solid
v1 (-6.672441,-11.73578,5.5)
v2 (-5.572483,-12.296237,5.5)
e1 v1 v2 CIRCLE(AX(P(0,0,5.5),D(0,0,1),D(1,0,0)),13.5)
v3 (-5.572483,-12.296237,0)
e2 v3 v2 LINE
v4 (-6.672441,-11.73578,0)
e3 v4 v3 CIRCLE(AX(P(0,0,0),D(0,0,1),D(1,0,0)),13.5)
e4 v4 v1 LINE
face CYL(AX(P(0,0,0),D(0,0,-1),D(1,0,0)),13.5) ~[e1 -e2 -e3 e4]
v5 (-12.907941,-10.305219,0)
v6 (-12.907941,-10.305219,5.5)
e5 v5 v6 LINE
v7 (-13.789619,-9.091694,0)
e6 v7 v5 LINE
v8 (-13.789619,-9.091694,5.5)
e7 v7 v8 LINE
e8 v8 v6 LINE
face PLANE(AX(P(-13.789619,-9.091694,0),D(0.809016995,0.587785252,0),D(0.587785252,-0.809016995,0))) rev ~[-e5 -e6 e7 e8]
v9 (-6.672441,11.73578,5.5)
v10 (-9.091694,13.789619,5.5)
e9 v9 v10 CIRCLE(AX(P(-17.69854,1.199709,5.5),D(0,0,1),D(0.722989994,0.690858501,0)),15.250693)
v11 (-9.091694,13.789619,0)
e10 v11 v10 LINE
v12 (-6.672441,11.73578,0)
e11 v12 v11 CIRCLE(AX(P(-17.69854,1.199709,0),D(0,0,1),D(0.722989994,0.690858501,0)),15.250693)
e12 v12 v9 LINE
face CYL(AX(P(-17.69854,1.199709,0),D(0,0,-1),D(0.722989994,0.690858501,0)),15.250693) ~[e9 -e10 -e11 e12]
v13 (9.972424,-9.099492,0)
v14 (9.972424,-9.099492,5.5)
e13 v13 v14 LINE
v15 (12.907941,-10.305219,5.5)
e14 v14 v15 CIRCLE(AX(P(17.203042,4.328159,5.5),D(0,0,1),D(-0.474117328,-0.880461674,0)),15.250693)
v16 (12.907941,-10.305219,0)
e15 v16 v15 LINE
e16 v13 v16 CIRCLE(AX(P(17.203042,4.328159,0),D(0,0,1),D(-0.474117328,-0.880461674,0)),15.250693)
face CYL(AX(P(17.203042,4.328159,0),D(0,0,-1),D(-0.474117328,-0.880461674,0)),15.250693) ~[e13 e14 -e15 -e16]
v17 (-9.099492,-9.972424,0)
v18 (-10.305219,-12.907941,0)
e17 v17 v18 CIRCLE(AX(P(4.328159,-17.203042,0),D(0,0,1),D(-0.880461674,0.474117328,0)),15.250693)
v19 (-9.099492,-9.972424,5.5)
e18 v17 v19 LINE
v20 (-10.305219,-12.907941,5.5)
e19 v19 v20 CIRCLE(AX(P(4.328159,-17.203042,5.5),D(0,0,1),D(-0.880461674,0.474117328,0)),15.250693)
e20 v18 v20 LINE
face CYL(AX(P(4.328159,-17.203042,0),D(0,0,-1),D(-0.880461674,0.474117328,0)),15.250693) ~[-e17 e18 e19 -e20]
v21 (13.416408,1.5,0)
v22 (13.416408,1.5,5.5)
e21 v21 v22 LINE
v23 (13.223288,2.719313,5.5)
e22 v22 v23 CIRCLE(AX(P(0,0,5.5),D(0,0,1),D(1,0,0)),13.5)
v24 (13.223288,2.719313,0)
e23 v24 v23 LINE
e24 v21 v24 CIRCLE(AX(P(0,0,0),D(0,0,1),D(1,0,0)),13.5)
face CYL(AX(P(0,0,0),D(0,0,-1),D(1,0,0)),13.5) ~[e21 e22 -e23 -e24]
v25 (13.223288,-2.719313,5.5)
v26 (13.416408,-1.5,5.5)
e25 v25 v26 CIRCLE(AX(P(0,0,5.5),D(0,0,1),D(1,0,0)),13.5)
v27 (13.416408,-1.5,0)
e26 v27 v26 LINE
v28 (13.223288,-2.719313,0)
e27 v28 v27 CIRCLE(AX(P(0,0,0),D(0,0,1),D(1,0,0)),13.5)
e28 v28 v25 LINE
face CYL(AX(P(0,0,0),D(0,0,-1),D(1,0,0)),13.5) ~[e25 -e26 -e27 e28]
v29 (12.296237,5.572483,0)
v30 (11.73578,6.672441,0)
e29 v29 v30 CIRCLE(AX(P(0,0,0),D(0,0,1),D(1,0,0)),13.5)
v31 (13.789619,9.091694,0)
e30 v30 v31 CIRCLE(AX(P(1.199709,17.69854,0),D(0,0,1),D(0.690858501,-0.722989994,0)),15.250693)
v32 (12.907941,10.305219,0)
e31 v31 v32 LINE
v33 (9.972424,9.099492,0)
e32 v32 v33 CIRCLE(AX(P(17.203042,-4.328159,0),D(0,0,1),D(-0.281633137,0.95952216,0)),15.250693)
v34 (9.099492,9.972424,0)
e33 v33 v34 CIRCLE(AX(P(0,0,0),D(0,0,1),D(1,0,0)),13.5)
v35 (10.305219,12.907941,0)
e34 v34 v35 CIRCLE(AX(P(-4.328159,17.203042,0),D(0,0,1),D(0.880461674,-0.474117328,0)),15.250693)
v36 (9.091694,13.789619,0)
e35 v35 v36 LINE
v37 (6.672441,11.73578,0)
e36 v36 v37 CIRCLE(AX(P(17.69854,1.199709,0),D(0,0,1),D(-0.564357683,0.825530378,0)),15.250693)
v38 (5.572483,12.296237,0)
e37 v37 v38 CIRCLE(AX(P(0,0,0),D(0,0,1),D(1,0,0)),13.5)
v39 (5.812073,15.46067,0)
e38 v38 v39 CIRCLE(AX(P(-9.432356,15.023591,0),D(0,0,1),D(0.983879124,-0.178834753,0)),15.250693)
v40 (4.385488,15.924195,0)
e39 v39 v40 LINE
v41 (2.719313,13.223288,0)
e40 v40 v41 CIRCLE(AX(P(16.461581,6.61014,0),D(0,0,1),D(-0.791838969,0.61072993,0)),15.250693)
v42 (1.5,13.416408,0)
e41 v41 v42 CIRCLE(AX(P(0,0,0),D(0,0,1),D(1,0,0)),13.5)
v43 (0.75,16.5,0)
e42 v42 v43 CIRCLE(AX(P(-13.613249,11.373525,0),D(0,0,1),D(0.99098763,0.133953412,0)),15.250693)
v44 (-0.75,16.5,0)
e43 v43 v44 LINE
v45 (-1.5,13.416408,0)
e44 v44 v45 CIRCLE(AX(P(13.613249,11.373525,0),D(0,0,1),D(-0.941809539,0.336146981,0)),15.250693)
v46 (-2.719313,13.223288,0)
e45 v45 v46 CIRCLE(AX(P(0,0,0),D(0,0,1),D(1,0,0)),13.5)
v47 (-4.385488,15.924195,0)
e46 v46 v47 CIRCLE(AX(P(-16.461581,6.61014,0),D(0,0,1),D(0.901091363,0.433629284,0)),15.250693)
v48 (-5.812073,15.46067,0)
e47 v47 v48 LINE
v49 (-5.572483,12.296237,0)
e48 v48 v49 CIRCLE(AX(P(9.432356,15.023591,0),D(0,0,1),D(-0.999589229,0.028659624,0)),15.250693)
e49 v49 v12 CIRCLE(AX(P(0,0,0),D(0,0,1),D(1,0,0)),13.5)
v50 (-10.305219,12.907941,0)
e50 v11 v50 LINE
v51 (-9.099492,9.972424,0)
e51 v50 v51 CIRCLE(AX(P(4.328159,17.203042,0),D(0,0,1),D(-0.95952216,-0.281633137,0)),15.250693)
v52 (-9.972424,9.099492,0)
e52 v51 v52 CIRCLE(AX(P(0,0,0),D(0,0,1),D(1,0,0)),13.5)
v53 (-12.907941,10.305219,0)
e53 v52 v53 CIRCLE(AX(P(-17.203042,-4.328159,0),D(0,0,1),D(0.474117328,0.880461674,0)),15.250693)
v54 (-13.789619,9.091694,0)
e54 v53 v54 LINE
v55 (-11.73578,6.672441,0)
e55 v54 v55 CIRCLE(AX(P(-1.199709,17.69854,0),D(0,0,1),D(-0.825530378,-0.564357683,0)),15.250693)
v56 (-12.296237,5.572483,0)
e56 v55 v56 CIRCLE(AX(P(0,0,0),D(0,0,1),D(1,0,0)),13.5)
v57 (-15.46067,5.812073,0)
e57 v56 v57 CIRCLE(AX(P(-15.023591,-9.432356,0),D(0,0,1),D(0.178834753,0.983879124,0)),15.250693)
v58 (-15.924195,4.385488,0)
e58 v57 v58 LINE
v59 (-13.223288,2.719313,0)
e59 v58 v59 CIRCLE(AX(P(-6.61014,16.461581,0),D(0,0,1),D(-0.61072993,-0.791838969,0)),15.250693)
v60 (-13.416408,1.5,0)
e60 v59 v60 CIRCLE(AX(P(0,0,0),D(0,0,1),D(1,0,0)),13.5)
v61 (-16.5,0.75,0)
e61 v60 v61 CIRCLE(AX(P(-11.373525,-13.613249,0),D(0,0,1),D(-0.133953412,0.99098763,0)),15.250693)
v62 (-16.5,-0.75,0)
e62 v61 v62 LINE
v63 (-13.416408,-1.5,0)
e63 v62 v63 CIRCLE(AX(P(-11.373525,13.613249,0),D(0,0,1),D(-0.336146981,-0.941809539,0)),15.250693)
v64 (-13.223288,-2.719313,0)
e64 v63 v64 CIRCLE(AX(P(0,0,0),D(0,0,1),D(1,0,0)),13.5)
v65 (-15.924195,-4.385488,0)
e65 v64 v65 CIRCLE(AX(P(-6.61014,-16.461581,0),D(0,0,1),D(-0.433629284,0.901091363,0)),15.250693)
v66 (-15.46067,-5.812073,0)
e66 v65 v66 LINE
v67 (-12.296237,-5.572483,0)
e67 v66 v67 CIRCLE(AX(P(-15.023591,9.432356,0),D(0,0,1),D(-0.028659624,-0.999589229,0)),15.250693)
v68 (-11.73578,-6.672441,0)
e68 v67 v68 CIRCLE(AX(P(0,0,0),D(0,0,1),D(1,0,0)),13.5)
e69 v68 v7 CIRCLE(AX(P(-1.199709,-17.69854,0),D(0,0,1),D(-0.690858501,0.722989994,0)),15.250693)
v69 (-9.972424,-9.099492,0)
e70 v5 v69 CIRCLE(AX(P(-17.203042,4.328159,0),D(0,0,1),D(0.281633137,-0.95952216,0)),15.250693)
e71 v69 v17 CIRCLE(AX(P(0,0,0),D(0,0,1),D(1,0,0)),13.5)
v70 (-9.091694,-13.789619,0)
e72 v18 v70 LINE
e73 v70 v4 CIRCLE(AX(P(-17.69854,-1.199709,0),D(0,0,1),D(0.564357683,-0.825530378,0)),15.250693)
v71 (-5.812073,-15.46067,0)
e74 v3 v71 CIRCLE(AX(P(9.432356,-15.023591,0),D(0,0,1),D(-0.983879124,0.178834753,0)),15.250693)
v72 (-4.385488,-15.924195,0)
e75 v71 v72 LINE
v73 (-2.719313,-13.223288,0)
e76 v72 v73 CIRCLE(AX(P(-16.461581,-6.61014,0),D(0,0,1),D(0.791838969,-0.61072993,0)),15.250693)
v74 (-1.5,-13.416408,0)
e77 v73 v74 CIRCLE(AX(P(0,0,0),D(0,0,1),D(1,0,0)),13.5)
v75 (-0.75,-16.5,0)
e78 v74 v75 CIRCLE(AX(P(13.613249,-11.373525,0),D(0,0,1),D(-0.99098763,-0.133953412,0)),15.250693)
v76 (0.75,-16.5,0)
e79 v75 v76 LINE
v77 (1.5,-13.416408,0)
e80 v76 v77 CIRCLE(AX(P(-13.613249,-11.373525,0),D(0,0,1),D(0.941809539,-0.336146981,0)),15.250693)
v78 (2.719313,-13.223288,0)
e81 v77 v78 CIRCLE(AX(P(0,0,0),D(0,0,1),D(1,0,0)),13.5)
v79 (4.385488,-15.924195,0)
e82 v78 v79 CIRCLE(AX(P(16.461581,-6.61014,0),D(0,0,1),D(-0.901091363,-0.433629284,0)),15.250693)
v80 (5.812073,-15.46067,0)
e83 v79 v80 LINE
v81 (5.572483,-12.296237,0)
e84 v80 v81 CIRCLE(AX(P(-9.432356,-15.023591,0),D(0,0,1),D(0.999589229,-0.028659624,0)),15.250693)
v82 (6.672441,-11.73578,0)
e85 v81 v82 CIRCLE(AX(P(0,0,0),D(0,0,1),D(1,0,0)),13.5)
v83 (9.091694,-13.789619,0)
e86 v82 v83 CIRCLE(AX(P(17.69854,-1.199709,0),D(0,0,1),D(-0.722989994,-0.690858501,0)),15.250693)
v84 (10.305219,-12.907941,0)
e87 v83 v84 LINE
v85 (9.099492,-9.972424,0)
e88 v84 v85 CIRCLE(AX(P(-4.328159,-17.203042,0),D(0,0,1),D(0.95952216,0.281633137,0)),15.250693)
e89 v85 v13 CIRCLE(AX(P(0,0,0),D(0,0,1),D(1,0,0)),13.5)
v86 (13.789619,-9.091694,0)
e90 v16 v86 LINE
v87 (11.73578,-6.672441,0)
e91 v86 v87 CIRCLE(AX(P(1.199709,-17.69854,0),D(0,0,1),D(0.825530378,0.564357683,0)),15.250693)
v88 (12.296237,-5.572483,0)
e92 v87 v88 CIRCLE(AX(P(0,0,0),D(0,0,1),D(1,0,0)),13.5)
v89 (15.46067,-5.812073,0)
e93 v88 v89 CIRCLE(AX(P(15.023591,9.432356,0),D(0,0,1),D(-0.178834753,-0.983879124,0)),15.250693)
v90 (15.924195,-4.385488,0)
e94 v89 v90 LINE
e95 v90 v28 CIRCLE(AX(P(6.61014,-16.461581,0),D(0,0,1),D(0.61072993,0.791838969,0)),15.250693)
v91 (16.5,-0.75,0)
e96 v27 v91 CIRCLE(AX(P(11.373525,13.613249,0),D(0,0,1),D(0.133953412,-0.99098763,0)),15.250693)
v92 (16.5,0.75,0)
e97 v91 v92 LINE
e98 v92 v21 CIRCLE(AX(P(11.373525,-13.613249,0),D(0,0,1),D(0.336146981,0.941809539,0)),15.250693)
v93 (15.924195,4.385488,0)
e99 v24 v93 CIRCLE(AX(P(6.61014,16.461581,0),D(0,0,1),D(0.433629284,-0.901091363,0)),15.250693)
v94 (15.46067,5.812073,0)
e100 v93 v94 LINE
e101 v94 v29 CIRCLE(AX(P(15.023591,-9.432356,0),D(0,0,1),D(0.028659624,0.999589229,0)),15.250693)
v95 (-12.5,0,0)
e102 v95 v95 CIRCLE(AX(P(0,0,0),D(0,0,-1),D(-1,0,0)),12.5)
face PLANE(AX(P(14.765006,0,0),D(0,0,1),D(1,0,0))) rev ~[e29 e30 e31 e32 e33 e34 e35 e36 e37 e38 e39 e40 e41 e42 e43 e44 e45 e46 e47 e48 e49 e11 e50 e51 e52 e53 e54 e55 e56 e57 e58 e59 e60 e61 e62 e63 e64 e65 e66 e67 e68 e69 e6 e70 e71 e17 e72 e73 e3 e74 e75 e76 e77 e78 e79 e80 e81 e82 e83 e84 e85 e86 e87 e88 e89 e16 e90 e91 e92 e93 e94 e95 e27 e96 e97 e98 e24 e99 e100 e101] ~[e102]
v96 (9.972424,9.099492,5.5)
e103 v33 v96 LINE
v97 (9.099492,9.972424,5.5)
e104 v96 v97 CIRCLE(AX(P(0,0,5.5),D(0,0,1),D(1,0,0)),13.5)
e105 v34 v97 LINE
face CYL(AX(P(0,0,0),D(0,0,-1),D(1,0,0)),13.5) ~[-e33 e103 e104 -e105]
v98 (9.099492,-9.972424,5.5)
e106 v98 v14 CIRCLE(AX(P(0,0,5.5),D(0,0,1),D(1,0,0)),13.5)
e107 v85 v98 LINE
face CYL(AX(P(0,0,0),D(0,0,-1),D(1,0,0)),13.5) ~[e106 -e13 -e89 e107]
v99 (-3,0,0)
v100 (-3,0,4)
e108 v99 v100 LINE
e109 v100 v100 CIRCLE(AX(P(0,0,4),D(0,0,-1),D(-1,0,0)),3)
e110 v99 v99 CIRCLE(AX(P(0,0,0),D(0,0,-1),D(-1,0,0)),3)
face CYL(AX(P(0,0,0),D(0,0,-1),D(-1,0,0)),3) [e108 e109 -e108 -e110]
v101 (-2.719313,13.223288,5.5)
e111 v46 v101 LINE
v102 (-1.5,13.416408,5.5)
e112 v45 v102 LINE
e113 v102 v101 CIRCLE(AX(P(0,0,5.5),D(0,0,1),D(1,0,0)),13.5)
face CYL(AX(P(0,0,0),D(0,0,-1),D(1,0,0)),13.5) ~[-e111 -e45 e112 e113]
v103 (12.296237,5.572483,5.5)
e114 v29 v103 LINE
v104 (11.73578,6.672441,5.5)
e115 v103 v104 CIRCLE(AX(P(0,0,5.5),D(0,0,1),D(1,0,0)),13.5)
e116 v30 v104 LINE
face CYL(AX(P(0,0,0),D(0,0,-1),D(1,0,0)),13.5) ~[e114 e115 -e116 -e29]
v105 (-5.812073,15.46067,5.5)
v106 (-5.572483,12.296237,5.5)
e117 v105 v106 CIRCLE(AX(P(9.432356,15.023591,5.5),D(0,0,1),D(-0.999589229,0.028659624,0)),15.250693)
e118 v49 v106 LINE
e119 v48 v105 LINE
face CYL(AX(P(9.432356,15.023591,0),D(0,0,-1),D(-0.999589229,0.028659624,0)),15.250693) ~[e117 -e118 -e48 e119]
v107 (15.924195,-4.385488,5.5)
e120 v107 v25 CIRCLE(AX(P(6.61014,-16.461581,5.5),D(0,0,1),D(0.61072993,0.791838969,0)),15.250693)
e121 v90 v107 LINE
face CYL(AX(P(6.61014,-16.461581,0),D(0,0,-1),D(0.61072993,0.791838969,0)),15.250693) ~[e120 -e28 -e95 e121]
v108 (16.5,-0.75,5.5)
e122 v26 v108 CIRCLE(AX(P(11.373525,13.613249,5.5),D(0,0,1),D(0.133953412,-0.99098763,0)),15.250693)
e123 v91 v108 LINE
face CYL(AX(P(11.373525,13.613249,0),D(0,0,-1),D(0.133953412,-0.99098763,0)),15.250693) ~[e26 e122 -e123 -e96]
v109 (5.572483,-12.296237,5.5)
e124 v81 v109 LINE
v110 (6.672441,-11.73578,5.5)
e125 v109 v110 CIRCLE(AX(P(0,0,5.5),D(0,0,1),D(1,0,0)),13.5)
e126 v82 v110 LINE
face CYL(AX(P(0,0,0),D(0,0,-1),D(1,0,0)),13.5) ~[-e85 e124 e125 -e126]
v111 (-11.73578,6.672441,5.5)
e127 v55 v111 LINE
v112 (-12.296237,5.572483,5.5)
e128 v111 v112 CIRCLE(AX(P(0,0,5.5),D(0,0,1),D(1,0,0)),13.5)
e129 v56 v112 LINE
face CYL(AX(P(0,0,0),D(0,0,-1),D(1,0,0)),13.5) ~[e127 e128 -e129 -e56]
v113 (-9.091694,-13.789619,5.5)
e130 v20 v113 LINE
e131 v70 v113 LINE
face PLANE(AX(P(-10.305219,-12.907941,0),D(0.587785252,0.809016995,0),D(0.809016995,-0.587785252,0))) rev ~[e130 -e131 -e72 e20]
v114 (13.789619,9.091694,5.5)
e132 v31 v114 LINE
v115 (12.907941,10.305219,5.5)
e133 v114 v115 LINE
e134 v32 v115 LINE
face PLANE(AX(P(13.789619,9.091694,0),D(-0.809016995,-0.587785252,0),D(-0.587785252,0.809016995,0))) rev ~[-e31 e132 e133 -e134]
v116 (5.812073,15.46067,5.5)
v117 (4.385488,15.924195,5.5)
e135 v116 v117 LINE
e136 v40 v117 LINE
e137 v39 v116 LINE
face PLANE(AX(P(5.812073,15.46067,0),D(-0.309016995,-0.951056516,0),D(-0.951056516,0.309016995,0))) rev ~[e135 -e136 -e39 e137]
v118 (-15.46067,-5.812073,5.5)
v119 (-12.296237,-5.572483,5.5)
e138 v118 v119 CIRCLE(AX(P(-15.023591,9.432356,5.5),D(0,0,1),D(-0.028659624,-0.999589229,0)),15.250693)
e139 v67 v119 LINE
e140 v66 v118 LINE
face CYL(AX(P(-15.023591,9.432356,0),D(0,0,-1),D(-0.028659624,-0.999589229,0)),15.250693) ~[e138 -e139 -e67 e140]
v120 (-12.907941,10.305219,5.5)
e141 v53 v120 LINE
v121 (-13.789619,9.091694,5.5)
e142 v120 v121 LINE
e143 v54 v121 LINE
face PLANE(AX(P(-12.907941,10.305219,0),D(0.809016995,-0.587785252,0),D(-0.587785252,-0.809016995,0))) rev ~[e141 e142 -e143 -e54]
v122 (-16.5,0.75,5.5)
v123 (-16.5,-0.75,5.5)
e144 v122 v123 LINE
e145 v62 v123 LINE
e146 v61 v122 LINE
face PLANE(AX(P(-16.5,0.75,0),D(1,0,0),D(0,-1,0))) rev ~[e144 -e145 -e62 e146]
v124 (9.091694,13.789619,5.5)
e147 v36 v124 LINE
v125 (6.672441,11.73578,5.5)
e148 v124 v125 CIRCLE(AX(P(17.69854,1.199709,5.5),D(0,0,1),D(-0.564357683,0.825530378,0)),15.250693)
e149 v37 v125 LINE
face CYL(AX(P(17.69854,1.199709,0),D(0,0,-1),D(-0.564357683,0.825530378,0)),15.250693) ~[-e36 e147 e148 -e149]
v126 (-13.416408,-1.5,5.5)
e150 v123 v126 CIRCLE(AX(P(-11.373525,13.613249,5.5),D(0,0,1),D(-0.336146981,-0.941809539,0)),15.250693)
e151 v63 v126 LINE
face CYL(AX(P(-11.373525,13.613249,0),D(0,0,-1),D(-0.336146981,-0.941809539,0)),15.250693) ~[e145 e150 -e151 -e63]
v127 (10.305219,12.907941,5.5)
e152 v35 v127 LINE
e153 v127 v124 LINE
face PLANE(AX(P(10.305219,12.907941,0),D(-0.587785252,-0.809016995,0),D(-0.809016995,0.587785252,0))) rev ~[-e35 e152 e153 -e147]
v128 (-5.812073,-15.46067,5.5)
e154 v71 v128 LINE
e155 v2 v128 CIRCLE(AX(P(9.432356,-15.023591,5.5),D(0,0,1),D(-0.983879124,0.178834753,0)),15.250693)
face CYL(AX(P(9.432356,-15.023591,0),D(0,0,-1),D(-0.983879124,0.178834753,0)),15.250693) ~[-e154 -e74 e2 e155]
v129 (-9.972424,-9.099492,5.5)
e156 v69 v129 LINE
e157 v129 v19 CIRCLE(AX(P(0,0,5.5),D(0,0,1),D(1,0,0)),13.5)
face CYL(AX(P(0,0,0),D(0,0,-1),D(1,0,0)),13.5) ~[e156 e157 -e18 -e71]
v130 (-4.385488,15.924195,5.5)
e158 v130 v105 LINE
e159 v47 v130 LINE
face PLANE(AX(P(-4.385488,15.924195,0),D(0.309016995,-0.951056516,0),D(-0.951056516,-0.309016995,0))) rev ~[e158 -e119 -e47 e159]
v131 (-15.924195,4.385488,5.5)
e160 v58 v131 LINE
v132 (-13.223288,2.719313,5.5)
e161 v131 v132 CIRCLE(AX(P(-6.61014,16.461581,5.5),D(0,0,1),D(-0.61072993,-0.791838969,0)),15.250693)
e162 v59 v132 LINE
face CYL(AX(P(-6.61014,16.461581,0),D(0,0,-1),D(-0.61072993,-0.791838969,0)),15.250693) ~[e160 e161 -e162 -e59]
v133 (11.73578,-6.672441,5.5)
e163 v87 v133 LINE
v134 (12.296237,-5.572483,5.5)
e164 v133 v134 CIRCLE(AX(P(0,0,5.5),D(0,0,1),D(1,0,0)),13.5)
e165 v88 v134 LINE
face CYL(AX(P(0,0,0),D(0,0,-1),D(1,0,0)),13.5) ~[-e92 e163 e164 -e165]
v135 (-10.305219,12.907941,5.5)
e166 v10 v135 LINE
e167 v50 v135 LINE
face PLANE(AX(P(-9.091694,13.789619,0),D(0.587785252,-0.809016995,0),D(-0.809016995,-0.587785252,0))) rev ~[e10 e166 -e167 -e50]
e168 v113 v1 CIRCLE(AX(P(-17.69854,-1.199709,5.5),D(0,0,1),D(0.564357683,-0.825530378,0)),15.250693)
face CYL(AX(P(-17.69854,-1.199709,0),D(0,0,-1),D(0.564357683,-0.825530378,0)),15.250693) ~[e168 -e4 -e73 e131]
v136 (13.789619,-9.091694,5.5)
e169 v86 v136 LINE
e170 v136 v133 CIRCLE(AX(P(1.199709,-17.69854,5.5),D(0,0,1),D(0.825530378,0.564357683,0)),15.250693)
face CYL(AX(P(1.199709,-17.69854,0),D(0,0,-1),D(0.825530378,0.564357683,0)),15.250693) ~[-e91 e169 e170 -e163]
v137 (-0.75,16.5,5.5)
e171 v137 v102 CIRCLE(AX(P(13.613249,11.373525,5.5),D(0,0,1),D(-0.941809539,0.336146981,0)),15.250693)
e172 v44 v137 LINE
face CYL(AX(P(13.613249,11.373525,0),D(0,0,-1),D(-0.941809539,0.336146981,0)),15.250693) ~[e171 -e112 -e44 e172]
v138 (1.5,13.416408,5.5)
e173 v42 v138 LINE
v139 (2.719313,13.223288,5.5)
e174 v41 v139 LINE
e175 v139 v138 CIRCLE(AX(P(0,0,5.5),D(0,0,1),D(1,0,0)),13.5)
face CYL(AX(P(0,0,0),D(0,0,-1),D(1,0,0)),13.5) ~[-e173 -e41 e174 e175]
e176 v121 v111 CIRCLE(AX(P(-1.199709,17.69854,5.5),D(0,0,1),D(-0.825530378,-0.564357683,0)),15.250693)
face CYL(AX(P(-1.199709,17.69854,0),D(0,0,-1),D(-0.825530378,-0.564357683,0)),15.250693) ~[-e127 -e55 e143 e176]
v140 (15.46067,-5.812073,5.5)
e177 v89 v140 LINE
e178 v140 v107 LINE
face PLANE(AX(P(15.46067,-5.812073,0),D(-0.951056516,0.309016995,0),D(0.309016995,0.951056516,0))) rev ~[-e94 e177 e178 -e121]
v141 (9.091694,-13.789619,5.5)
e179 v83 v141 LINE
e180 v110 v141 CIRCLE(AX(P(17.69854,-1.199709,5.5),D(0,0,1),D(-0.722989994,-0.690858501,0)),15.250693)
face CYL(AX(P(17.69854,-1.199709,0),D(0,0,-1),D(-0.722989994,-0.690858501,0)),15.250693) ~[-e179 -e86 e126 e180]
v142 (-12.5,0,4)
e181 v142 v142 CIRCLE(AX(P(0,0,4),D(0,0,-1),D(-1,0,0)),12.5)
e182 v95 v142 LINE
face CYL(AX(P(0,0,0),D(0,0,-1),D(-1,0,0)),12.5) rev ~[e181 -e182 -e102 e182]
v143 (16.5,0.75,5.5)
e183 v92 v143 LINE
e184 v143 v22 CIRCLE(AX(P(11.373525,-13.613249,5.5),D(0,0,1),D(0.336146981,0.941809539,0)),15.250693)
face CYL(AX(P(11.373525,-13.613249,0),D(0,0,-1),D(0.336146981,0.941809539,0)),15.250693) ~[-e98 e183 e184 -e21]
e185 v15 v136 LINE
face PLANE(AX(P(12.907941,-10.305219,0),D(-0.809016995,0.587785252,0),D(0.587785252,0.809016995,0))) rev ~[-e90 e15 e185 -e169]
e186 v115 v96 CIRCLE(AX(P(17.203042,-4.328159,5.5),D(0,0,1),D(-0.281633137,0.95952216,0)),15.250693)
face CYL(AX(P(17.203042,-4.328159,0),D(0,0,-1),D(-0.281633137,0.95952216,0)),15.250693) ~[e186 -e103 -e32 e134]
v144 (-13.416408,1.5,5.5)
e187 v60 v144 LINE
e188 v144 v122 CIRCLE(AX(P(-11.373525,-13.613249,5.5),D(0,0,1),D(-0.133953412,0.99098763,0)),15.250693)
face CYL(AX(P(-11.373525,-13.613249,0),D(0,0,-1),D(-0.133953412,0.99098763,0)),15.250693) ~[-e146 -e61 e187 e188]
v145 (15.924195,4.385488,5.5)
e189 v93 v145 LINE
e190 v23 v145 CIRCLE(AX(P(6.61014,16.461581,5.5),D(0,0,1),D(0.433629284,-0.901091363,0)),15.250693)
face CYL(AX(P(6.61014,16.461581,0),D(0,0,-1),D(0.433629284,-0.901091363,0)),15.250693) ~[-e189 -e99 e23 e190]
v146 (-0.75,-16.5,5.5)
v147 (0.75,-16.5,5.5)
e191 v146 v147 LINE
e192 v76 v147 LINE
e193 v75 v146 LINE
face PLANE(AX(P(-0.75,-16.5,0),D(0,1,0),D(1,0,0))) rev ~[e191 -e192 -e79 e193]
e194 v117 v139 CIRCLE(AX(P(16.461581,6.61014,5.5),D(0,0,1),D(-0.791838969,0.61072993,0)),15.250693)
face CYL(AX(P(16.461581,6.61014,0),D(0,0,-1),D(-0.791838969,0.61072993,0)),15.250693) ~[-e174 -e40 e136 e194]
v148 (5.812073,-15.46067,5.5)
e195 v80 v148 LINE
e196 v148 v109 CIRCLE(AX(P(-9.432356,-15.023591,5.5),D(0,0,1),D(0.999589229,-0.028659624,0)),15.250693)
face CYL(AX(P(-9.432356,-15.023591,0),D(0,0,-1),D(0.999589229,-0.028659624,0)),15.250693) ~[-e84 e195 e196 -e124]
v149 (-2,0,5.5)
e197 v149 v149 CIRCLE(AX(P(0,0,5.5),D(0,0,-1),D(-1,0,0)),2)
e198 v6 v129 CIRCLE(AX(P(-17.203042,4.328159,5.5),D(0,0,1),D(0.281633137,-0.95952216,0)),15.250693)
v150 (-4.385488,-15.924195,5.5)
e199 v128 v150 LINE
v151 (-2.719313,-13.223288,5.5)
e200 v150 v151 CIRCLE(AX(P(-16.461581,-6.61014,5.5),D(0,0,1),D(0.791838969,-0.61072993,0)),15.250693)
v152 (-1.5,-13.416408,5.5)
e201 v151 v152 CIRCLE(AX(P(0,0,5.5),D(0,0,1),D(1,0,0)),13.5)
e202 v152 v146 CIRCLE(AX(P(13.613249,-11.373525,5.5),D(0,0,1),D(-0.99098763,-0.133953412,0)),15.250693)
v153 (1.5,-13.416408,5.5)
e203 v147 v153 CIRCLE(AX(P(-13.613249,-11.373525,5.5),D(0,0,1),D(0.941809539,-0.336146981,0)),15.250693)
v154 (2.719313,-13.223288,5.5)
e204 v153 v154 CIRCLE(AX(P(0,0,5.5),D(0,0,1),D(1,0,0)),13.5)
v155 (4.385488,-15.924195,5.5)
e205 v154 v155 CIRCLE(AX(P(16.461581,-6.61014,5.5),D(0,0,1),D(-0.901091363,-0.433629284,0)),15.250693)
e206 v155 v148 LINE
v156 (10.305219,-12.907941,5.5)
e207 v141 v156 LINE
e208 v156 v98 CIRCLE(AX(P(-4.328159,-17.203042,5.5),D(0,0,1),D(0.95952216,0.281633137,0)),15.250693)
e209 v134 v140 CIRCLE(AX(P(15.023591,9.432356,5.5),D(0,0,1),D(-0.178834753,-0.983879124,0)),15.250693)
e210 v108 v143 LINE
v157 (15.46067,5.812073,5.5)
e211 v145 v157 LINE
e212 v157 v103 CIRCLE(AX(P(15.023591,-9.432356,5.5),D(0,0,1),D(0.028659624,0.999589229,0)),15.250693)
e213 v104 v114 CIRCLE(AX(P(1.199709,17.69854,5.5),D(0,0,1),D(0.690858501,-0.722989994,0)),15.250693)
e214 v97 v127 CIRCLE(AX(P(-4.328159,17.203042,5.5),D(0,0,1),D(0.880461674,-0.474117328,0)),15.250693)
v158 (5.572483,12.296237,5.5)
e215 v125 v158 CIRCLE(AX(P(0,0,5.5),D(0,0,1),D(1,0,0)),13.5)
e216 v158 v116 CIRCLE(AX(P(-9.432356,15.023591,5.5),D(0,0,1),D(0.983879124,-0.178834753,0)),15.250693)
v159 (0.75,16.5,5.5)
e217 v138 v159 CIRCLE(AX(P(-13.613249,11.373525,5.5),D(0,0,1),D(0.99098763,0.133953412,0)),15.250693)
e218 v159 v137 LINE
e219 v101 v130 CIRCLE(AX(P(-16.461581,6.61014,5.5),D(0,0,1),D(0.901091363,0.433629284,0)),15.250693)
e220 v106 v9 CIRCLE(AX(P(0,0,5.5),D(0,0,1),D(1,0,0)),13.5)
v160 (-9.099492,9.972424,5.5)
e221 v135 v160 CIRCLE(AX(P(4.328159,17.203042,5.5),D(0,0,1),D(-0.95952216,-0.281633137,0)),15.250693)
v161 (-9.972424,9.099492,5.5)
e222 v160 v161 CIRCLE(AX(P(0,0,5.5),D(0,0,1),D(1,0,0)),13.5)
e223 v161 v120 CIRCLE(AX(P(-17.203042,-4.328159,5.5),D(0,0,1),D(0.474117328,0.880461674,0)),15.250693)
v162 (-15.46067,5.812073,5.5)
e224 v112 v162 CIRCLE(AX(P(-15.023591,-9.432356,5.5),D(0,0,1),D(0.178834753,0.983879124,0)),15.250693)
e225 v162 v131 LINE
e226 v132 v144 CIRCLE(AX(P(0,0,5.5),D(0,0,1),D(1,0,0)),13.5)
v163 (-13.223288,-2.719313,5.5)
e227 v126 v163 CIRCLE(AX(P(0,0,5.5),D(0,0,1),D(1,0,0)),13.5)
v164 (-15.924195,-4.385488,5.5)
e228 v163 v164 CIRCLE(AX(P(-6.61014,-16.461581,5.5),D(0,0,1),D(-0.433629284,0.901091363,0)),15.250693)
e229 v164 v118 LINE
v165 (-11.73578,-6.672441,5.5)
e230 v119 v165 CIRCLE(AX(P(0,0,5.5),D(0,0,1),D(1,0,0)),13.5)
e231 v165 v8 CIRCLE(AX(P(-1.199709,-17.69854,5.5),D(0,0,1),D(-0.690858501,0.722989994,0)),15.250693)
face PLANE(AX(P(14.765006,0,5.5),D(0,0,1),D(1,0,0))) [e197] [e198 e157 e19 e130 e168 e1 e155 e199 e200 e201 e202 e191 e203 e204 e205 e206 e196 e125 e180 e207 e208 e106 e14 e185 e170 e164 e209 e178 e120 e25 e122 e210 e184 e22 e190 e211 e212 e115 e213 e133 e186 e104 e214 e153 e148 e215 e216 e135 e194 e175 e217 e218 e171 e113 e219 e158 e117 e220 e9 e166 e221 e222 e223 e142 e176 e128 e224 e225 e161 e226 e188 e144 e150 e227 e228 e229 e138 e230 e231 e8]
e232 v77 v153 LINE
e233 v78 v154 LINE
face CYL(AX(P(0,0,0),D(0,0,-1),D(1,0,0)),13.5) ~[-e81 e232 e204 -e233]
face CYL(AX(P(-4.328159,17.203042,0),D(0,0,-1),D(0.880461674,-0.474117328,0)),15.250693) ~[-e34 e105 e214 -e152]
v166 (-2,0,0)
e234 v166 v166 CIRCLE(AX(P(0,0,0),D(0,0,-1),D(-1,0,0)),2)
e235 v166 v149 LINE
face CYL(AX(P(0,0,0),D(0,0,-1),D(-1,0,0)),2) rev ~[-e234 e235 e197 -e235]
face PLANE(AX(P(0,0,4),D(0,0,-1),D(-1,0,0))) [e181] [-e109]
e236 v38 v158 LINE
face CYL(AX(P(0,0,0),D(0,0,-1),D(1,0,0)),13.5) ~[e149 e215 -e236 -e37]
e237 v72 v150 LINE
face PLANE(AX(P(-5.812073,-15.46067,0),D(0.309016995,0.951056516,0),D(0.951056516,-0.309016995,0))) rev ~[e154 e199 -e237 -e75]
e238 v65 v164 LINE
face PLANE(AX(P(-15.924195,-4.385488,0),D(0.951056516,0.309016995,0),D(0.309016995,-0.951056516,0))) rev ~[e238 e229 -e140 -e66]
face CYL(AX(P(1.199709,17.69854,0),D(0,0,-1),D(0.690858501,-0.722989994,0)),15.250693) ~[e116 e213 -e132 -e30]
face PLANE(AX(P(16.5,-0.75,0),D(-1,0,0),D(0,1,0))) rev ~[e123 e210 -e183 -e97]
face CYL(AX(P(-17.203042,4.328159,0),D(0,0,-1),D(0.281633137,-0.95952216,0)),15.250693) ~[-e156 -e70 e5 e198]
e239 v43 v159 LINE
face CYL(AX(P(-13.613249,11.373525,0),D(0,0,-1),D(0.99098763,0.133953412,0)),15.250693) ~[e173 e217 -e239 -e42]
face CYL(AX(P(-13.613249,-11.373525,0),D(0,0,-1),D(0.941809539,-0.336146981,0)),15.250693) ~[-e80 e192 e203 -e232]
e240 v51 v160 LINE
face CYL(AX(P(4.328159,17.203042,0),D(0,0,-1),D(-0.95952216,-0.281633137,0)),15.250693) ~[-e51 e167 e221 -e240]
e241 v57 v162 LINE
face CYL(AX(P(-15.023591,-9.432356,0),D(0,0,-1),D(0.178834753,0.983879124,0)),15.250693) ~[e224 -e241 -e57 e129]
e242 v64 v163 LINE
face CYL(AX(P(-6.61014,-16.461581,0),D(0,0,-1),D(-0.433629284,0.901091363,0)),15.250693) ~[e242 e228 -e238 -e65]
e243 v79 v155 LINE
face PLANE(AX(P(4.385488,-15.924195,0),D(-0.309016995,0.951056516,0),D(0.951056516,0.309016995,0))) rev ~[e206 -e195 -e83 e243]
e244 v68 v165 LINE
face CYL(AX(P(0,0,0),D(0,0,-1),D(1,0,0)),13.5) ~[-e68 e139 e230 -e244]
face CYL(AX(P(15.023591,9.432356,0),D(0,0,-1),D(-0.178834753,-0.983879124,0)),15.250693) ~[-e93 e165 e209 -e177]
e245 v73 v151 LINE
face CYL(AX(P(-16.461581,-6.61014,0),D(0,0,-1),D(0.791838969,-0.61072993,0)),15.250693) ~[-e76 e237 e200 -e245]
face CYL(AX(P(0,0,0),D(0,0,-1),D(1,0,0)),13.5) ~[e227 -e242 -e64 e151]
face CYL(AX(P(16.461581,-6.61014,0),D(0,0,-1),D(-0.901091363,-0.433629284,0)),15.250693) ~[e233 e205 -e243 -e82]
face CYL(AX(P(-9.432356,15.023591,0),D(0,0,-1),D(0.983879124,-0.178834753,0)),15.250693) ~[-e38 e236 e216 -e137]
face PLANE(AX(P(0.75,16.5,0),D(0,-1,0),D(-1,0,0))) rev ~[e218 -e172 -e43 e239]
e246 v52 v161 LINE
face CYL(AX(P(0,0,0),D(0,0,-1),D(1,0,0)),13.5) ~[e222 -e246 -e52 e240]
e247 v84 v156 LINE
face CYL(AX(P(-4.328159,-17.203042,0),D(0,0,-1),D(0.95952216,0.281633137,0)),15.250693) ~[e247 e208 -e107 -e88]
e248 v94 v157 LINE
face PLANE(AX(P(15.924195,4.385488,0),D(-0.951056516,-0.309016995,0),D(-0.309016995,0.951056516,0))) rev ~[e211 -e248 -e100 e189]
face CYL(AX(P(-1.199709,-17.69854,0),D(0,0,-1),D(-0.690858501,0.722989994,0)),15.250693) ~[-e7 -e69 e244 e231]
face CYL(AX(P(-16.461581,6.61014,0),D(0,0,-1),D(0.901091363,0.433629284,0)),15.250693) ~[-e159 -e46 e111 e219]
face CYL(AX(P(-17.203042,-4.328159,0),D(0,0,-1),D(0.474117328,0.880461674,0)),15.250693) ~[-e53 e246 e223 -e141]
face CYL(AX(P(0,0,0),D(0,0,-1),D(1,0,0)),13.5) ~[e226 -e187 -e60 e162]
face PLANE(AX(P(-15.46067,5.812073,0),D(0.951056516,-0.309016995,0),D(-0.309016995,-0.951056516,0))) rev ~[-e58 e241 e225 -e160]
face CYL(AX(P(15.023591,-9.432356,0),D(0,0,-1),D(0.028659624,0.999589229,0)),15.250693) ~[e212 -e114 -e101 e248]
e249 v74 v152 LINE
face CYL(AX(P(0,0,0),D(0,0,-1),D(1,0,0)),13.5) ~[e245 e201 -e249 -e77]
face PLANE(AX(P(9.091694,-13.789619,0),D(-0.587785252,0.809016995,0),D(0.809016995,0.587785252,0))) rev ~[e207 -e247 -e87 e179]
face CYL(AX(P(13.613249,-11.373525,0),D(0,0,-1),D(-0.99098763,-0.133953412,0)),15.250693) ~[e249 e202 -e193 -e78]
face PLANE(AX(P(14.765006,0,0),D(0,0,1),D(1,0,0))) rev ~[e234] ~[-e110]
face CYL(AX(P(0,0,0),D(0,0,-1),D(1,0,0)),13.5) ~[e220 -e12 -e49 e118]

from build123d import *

# Parameters (mm, degrees)
SKETCH_1_R          = 13.5
EXTRUDE_1_DEPTH     = 5.5
EXTRUDE_START       = -5.5
EXTRUDE_2_DEPTH     = 5.5
SKETCH_7_R          = 2
CUT_EXTRUDE_1_DEPTH = 24.973944189
SKETCH_8_R          = 12.5
SKETCH_8_R_2        = 3
CUT_EXTRUDE_2_DEPTH = 4


with BuildPart() as part:
    # 草图1 → 凸台-拉伸1 (new body)
    with BuildSketch(Plane.XY):
        Circle(SKETCH_1_R)
    extrude(amount=EXTRUDE_1_DEPTH)

    # 草图6 → 凸台-拉伸2 (add)
    with BuildSketch(Plane.XY.offset(5.5).offset(EXTRUDE_START)):
        with BuildLine():
            Line((5.812072794, 15.460669773), (4.38548802, 15.924195265))
            ThreePointArc((4.38548802, 15.924195265), (3.48195608, 14.617198294), (2.719313259, 13.223287617))
            ThreePointArc((2.719313259, 13.223287617), (4.171729424, 12.83926297), (5.572482808, 12.296236634))
            ThreePointArc((5.572482808, 12.296236634), (5.774811944, 13.872204263), (5.812072794, 15.460669773))
        make_face()
        with BuildLine():
            Line((10.305219409, 12.907941468), (9.091693917, 13.789619346))
            ThreePointArc((9.091693917, 13.789619346), (7.828499702, 12.825798085), (6.67244119, 11.735779845))
            ThreePointArc((6.67244119, 11.735779845), (7.935100906, 10.921729424), (9.099492173, 9.972424088))
            ThreePointArc((9.099492173, 9.972424088), (9.778919397, 11.40873523), (10.305219409, 12.907941468))
        make_face()
        with BuildLine():
            Line((0.75, 16.5), (-0.75, 16.5))
            ThreePointArc((-0.75, 16.5), (-1.205425663, 14.97776529), (-1.5, 13.416407865))
            ThreePointArc((-1.5, 13.416407865), (0, 13.5), (1.5, 13.416407865))
            ThreePointArc((1.5, 13.416407865), (1.205425663, 14.97776529), (0.75, 16.5))
        make_face()
        with BuildLine():
            Line((13.789619346, 9.091693917), (12.907941468, 10.305219409))
            ThreePointArc((12.907941468, 10.305219409), (11.40873523, 9.778919397), (9.972424088, 9.099492173))
            ThreePointArc((9.972424088, 9.099492173), (10.921729424, 7.935100906), (11.735779845, 6.67244119))
            ThreePointArc((11.735779845, 6.67244119), (12.825798085, 7.828499702), (13.789619346, 9.091693917))
        make_face()
        with BuildLine():
            Line((15.924195265, 4.38548802), (15.460669773, 5.812072794))
            ThreePointArc((15.460669773, 5.812072794), (13.872204263, 5.774811944), (12.296236634, 5.572482808))
            ThreePointArc((12.296236634, 5.572482808), (12.83926297, 4.171729424), (13.223287617, 2.719313259))
            ThreePointArc((13.223287617, 2.719313259), (14.617198294, 3.48195608), (15.924195265, 4.38548802))
        make_face()
        with BuildLine():
            Line((16.5, -0.75), (16.5, 0.75))
            ThreePointArc((16.5, 0.75), (14.97776529, 1.205425663), (13.416407865, 1.5))
            ThreePointArc((13.416407865, 1.5), (13.5, 0), (13.416407865, -1.5))
            ThreePointArc((13.416407865, -1.5), (14.97776529, -1.205425663), (16.5, -0.75))
        make_face()
        with BuildLine():
            Line((15.460669773, -5.812072794), (15.924195265, -4.38548802))
            ThreePointArc((15.924195265, -4.38548802), (14.617198294, -3.48195608), (13.223287617, -2.719313259))
            ThreePointArc((13.223287617, -2.719313259), (12.83926297, -4.171729424), (12.296236634, -5.572482808))
            ThreePointArc((12.296236634, -5.572482808), (13.872204263, -5.774811944), (15.460669773, -5.812072794))
        make_face()
        with BuildLine():
            Line((12.907941468, -10.305219409), (13.789619346, -9.091693917))
            ThreePointArc((13.789619346, -9.091693917), (12.825798085, -7.828499702), (11.735779845, -6.67244119))
            ThreePointArc((11.735779845, -6.67244119), (10.921729424, -7.935100906), (9.972424088, -9.099492173))
            ThreePointArc((9.972424088, -9.099492173), (11.40873523, -9.778919397), (12.907941468, -10.305219409))
        make_face()
        with BuildLine():
            Line((9.091693917, -13.789619346), (10.305219409, -12.907941468))
            ThreePointArc((10.305219409, -12.907941468), (9.778919397, -11.40873523), (9.099492173, -9.972424088))
            ThreePointArc((9.099492173, -9.972424088), (7.935100906, -10.921729424), (6.67244119, -11.735779845))
            ThreePointArc((6.67244119, -11.735779845), (7.828499702, -12.825798085), (9.091693917, -13.789619346))
        make_face()
        with BuildLine():
            Line((4.38548802, -15.924195265), (5.812072794, -15.460669773))
            ThreePointArc((5.812072794, -15.460669773), (5.774811944, -13.872204263), (5.572482808, -12.296236634))
            ThreePointArc((5.572482808, -12.296236634), (4.171729424, -12.83926297), (2.719313259, -13.223287617))
            ThreePointArc((2.719313259, -13.223287617), (3.48195608, -14.617198294), (4.38548802, -15.924195265))
        make_face()
        with BuildLine():
            Line((-0.75, -16.5), (0.75, -16.5))
            ThreePointArc((0.75, -16.5), (1.205425663, -14.97776529), (1.5, -13.416407865))
            ThreePointArc((1.5, -13.416407865), (0, -13.5), (-1.5, -13.416407865))
            ThreePointArc((-1.5, -13.416407865), (-1.205425663, -14.97776529), (-0.75, -16.5))
        make_face()
        with BuildLine():
            Line((-5.812072794, -15.460669773), (-4.38548802, -15.924195265))
            ThreePointArc((-4.38548802, -15.924195265), (-3.48195608, -14.617198294), (-2.719313259, -13.223287617))
            ThreePointArc((-2.719313259, -13.223287617), (-4.171729424, -12.83926297), (-5.572482808, -12.296236634))
            ThreePointArc((-5.572482808, -12.296236634), (-5.774811944, -13.872204263), (-5.812072794, -15.460669773))
        make_face()
        with BuildLine():
            Line((-10.305219409, -12.907941468), (-9.091693917, -13.789619346))
            ThreePointArc((-9.091693917, -13.789619346), (-7.828499702, -12.825798085), (-6.67244119, -11.735779845))
            ThreePointArc((-6.67244119, -11.735779845), (-7.935100906, -10.921729424), (-9.099492173, -9.972424088))
            ThreePointArc((-9.099492173, -9.972424088), (-9.778919397, -11.40873523), (-10.305219409, -12.907941468))
        make_face()
        with BuildLine():
            Line((-13.789619346, -9.091693917), (-12.907941468, -10.305219409))
            ThreePointArc((-12.907941468, -10.305219409), (-11.40873523, -9.778919397), (-9.972424088, -9.099492173))
            ThreePointArc((-9.972424088, -9.099492173), (-10.921729424, -7.935100906), (-11.735779845, -6.67244119))
            ThreePointArc((-11.735779845, -6.67244119), (-12.825798085, -7.828499702), (-13.789619346, -9.091693917))
        make_face()
        with BuildLine():
            Line((-15.924195265, -4.38548802), (-15.460669773, -5.812072794))
            ThreePointArc((-15.460669773, -5.812072794), (-13.872204263, -5.774811944), (-12.296236634, -5.572482808))
            ThreePointArc((-12.296236634, -5.572482808), (-12.83926297, -4.171729424), (-13.223287617, -2.719313259))
            ThreePointArc((-13.223287617, -2.719313259), (-14.617198294, -3.48195608), (-15.924195265, -4.38548802))
        make_face()
        with BuildLine():
            Line((-16.5, 0.75), (-16.5, -0.75))
            ThreePointArc((-16.5, -0.75), (-14.97776529, -1.205425663), (-13.416407865, -1.5))
            ThreePointArc((-13.416407865, -1.5), (-13.5, 0), (-13.416407865, 1.5))
            ThreePointArc((-13.416407865, 1.5), (-14.97776529, 1.205425663), (-16.5, 0.75))
        make_face()
        with BuildLine():
            Line((-15.460669773, 5.812072794), (-15.924195265, 4.38548802))
            ThreePointArc((-15.924195265, 4.38548802), (-14.617198294, 3.48195608), (-13.223287617, 2.719313259))
            ThreePointArc((-13.223287617, 2.719313259), (-12.83926297, 4.171729424), (-12.296236634, 5.572482808))
            ThreePointArc((-12.296236634, 5.572482808), (-13.872204263, 5.774811944), (-15.460669773, 5.812072794))
        make_face()
        with BuildLine():
            Line((-12.907941468, 10.305219409), (-13.789619346, 9.091693917))
            ThreePointArc((-13.789619346, 9.091693917), (-12.825798085, 7.828499702), (-11.735779845, 6.67244119))
            ThreePointArc((-11.735779845, 6.67244119), (-10.921729424, 7.935100906), (-9.972424088, 9.099492173))
            ThreePointArc((-9.972424088, 9.099492173), (-11.40873523, 9.778919397), (-12.907941468, 10.305219409))
        make_face()
        with BuildLine():
            Line((-9.091693917, 13.789619346), (-10.305219409, 12.907941468))
            ThreePointArc((-10.305219409, 12.907941468), (-9.778919397, 11.40873523), (-9.099492173, 9.972424088))
            ThreePointArc((-9.099492173, 9.972424088), (-7.935100906, 10.921729424), (-6.67244119, 11.735779845))
            ThreePointArc((-6.67244119, 11.735779845), (-7.828499702, 12.825798085), (-9.091693917, 13.789619346))
        make_face()
        with BuildLine():
            Line((-4.38548802, 15.924195265), (-5.812072794, 15.460669773))
            ThreePointArc((-5.812072794, 15.460669773), (-5.774811944, 13.872204263), (-5.572482808, 12.296236634))
            ThreePointArc((-5.572482808, 12.296236634), (-4.171729424, 12.83926297), (-2.719313259, 13.223287617))
            ThreePointArc((-2.719313259, 13.223287617), (-3.48195608, 14.617198294), (-4.38548802, 15.924195265))
        make_face()
    extrude(amount=EXTRUDE_2_DEPTH)

    # 草图7 → 切除-拉伸1 (cut, through all)
    with BuildSketch(Plane(origin=(0, 0, 0), x_dir=(-1, 0, 0), z_dir=(0, 0, -1))):
        Circle(SKETCH_7_R)
    extrude(amount=-CUT_EXTRUDE_1_DEPTH, mode=Mode.SUBTRACT)

    # 草图8 → 切除-拉伸2 (cut)
    with BuildSketch(Plane(origin=(0, 0, 0), x_dir=(-1, 0, 0), z_dir=(0, 0, -1))):
        Circle(SKETCH_8_R)
        Circle(SKETCH_8_R_2, mode=Mode.SUBTRACT)
    extrude(amount=-CUT_EXTRUDE_2_DEPTH, mode=Mode.SUBTRACT)


solid = part.part
